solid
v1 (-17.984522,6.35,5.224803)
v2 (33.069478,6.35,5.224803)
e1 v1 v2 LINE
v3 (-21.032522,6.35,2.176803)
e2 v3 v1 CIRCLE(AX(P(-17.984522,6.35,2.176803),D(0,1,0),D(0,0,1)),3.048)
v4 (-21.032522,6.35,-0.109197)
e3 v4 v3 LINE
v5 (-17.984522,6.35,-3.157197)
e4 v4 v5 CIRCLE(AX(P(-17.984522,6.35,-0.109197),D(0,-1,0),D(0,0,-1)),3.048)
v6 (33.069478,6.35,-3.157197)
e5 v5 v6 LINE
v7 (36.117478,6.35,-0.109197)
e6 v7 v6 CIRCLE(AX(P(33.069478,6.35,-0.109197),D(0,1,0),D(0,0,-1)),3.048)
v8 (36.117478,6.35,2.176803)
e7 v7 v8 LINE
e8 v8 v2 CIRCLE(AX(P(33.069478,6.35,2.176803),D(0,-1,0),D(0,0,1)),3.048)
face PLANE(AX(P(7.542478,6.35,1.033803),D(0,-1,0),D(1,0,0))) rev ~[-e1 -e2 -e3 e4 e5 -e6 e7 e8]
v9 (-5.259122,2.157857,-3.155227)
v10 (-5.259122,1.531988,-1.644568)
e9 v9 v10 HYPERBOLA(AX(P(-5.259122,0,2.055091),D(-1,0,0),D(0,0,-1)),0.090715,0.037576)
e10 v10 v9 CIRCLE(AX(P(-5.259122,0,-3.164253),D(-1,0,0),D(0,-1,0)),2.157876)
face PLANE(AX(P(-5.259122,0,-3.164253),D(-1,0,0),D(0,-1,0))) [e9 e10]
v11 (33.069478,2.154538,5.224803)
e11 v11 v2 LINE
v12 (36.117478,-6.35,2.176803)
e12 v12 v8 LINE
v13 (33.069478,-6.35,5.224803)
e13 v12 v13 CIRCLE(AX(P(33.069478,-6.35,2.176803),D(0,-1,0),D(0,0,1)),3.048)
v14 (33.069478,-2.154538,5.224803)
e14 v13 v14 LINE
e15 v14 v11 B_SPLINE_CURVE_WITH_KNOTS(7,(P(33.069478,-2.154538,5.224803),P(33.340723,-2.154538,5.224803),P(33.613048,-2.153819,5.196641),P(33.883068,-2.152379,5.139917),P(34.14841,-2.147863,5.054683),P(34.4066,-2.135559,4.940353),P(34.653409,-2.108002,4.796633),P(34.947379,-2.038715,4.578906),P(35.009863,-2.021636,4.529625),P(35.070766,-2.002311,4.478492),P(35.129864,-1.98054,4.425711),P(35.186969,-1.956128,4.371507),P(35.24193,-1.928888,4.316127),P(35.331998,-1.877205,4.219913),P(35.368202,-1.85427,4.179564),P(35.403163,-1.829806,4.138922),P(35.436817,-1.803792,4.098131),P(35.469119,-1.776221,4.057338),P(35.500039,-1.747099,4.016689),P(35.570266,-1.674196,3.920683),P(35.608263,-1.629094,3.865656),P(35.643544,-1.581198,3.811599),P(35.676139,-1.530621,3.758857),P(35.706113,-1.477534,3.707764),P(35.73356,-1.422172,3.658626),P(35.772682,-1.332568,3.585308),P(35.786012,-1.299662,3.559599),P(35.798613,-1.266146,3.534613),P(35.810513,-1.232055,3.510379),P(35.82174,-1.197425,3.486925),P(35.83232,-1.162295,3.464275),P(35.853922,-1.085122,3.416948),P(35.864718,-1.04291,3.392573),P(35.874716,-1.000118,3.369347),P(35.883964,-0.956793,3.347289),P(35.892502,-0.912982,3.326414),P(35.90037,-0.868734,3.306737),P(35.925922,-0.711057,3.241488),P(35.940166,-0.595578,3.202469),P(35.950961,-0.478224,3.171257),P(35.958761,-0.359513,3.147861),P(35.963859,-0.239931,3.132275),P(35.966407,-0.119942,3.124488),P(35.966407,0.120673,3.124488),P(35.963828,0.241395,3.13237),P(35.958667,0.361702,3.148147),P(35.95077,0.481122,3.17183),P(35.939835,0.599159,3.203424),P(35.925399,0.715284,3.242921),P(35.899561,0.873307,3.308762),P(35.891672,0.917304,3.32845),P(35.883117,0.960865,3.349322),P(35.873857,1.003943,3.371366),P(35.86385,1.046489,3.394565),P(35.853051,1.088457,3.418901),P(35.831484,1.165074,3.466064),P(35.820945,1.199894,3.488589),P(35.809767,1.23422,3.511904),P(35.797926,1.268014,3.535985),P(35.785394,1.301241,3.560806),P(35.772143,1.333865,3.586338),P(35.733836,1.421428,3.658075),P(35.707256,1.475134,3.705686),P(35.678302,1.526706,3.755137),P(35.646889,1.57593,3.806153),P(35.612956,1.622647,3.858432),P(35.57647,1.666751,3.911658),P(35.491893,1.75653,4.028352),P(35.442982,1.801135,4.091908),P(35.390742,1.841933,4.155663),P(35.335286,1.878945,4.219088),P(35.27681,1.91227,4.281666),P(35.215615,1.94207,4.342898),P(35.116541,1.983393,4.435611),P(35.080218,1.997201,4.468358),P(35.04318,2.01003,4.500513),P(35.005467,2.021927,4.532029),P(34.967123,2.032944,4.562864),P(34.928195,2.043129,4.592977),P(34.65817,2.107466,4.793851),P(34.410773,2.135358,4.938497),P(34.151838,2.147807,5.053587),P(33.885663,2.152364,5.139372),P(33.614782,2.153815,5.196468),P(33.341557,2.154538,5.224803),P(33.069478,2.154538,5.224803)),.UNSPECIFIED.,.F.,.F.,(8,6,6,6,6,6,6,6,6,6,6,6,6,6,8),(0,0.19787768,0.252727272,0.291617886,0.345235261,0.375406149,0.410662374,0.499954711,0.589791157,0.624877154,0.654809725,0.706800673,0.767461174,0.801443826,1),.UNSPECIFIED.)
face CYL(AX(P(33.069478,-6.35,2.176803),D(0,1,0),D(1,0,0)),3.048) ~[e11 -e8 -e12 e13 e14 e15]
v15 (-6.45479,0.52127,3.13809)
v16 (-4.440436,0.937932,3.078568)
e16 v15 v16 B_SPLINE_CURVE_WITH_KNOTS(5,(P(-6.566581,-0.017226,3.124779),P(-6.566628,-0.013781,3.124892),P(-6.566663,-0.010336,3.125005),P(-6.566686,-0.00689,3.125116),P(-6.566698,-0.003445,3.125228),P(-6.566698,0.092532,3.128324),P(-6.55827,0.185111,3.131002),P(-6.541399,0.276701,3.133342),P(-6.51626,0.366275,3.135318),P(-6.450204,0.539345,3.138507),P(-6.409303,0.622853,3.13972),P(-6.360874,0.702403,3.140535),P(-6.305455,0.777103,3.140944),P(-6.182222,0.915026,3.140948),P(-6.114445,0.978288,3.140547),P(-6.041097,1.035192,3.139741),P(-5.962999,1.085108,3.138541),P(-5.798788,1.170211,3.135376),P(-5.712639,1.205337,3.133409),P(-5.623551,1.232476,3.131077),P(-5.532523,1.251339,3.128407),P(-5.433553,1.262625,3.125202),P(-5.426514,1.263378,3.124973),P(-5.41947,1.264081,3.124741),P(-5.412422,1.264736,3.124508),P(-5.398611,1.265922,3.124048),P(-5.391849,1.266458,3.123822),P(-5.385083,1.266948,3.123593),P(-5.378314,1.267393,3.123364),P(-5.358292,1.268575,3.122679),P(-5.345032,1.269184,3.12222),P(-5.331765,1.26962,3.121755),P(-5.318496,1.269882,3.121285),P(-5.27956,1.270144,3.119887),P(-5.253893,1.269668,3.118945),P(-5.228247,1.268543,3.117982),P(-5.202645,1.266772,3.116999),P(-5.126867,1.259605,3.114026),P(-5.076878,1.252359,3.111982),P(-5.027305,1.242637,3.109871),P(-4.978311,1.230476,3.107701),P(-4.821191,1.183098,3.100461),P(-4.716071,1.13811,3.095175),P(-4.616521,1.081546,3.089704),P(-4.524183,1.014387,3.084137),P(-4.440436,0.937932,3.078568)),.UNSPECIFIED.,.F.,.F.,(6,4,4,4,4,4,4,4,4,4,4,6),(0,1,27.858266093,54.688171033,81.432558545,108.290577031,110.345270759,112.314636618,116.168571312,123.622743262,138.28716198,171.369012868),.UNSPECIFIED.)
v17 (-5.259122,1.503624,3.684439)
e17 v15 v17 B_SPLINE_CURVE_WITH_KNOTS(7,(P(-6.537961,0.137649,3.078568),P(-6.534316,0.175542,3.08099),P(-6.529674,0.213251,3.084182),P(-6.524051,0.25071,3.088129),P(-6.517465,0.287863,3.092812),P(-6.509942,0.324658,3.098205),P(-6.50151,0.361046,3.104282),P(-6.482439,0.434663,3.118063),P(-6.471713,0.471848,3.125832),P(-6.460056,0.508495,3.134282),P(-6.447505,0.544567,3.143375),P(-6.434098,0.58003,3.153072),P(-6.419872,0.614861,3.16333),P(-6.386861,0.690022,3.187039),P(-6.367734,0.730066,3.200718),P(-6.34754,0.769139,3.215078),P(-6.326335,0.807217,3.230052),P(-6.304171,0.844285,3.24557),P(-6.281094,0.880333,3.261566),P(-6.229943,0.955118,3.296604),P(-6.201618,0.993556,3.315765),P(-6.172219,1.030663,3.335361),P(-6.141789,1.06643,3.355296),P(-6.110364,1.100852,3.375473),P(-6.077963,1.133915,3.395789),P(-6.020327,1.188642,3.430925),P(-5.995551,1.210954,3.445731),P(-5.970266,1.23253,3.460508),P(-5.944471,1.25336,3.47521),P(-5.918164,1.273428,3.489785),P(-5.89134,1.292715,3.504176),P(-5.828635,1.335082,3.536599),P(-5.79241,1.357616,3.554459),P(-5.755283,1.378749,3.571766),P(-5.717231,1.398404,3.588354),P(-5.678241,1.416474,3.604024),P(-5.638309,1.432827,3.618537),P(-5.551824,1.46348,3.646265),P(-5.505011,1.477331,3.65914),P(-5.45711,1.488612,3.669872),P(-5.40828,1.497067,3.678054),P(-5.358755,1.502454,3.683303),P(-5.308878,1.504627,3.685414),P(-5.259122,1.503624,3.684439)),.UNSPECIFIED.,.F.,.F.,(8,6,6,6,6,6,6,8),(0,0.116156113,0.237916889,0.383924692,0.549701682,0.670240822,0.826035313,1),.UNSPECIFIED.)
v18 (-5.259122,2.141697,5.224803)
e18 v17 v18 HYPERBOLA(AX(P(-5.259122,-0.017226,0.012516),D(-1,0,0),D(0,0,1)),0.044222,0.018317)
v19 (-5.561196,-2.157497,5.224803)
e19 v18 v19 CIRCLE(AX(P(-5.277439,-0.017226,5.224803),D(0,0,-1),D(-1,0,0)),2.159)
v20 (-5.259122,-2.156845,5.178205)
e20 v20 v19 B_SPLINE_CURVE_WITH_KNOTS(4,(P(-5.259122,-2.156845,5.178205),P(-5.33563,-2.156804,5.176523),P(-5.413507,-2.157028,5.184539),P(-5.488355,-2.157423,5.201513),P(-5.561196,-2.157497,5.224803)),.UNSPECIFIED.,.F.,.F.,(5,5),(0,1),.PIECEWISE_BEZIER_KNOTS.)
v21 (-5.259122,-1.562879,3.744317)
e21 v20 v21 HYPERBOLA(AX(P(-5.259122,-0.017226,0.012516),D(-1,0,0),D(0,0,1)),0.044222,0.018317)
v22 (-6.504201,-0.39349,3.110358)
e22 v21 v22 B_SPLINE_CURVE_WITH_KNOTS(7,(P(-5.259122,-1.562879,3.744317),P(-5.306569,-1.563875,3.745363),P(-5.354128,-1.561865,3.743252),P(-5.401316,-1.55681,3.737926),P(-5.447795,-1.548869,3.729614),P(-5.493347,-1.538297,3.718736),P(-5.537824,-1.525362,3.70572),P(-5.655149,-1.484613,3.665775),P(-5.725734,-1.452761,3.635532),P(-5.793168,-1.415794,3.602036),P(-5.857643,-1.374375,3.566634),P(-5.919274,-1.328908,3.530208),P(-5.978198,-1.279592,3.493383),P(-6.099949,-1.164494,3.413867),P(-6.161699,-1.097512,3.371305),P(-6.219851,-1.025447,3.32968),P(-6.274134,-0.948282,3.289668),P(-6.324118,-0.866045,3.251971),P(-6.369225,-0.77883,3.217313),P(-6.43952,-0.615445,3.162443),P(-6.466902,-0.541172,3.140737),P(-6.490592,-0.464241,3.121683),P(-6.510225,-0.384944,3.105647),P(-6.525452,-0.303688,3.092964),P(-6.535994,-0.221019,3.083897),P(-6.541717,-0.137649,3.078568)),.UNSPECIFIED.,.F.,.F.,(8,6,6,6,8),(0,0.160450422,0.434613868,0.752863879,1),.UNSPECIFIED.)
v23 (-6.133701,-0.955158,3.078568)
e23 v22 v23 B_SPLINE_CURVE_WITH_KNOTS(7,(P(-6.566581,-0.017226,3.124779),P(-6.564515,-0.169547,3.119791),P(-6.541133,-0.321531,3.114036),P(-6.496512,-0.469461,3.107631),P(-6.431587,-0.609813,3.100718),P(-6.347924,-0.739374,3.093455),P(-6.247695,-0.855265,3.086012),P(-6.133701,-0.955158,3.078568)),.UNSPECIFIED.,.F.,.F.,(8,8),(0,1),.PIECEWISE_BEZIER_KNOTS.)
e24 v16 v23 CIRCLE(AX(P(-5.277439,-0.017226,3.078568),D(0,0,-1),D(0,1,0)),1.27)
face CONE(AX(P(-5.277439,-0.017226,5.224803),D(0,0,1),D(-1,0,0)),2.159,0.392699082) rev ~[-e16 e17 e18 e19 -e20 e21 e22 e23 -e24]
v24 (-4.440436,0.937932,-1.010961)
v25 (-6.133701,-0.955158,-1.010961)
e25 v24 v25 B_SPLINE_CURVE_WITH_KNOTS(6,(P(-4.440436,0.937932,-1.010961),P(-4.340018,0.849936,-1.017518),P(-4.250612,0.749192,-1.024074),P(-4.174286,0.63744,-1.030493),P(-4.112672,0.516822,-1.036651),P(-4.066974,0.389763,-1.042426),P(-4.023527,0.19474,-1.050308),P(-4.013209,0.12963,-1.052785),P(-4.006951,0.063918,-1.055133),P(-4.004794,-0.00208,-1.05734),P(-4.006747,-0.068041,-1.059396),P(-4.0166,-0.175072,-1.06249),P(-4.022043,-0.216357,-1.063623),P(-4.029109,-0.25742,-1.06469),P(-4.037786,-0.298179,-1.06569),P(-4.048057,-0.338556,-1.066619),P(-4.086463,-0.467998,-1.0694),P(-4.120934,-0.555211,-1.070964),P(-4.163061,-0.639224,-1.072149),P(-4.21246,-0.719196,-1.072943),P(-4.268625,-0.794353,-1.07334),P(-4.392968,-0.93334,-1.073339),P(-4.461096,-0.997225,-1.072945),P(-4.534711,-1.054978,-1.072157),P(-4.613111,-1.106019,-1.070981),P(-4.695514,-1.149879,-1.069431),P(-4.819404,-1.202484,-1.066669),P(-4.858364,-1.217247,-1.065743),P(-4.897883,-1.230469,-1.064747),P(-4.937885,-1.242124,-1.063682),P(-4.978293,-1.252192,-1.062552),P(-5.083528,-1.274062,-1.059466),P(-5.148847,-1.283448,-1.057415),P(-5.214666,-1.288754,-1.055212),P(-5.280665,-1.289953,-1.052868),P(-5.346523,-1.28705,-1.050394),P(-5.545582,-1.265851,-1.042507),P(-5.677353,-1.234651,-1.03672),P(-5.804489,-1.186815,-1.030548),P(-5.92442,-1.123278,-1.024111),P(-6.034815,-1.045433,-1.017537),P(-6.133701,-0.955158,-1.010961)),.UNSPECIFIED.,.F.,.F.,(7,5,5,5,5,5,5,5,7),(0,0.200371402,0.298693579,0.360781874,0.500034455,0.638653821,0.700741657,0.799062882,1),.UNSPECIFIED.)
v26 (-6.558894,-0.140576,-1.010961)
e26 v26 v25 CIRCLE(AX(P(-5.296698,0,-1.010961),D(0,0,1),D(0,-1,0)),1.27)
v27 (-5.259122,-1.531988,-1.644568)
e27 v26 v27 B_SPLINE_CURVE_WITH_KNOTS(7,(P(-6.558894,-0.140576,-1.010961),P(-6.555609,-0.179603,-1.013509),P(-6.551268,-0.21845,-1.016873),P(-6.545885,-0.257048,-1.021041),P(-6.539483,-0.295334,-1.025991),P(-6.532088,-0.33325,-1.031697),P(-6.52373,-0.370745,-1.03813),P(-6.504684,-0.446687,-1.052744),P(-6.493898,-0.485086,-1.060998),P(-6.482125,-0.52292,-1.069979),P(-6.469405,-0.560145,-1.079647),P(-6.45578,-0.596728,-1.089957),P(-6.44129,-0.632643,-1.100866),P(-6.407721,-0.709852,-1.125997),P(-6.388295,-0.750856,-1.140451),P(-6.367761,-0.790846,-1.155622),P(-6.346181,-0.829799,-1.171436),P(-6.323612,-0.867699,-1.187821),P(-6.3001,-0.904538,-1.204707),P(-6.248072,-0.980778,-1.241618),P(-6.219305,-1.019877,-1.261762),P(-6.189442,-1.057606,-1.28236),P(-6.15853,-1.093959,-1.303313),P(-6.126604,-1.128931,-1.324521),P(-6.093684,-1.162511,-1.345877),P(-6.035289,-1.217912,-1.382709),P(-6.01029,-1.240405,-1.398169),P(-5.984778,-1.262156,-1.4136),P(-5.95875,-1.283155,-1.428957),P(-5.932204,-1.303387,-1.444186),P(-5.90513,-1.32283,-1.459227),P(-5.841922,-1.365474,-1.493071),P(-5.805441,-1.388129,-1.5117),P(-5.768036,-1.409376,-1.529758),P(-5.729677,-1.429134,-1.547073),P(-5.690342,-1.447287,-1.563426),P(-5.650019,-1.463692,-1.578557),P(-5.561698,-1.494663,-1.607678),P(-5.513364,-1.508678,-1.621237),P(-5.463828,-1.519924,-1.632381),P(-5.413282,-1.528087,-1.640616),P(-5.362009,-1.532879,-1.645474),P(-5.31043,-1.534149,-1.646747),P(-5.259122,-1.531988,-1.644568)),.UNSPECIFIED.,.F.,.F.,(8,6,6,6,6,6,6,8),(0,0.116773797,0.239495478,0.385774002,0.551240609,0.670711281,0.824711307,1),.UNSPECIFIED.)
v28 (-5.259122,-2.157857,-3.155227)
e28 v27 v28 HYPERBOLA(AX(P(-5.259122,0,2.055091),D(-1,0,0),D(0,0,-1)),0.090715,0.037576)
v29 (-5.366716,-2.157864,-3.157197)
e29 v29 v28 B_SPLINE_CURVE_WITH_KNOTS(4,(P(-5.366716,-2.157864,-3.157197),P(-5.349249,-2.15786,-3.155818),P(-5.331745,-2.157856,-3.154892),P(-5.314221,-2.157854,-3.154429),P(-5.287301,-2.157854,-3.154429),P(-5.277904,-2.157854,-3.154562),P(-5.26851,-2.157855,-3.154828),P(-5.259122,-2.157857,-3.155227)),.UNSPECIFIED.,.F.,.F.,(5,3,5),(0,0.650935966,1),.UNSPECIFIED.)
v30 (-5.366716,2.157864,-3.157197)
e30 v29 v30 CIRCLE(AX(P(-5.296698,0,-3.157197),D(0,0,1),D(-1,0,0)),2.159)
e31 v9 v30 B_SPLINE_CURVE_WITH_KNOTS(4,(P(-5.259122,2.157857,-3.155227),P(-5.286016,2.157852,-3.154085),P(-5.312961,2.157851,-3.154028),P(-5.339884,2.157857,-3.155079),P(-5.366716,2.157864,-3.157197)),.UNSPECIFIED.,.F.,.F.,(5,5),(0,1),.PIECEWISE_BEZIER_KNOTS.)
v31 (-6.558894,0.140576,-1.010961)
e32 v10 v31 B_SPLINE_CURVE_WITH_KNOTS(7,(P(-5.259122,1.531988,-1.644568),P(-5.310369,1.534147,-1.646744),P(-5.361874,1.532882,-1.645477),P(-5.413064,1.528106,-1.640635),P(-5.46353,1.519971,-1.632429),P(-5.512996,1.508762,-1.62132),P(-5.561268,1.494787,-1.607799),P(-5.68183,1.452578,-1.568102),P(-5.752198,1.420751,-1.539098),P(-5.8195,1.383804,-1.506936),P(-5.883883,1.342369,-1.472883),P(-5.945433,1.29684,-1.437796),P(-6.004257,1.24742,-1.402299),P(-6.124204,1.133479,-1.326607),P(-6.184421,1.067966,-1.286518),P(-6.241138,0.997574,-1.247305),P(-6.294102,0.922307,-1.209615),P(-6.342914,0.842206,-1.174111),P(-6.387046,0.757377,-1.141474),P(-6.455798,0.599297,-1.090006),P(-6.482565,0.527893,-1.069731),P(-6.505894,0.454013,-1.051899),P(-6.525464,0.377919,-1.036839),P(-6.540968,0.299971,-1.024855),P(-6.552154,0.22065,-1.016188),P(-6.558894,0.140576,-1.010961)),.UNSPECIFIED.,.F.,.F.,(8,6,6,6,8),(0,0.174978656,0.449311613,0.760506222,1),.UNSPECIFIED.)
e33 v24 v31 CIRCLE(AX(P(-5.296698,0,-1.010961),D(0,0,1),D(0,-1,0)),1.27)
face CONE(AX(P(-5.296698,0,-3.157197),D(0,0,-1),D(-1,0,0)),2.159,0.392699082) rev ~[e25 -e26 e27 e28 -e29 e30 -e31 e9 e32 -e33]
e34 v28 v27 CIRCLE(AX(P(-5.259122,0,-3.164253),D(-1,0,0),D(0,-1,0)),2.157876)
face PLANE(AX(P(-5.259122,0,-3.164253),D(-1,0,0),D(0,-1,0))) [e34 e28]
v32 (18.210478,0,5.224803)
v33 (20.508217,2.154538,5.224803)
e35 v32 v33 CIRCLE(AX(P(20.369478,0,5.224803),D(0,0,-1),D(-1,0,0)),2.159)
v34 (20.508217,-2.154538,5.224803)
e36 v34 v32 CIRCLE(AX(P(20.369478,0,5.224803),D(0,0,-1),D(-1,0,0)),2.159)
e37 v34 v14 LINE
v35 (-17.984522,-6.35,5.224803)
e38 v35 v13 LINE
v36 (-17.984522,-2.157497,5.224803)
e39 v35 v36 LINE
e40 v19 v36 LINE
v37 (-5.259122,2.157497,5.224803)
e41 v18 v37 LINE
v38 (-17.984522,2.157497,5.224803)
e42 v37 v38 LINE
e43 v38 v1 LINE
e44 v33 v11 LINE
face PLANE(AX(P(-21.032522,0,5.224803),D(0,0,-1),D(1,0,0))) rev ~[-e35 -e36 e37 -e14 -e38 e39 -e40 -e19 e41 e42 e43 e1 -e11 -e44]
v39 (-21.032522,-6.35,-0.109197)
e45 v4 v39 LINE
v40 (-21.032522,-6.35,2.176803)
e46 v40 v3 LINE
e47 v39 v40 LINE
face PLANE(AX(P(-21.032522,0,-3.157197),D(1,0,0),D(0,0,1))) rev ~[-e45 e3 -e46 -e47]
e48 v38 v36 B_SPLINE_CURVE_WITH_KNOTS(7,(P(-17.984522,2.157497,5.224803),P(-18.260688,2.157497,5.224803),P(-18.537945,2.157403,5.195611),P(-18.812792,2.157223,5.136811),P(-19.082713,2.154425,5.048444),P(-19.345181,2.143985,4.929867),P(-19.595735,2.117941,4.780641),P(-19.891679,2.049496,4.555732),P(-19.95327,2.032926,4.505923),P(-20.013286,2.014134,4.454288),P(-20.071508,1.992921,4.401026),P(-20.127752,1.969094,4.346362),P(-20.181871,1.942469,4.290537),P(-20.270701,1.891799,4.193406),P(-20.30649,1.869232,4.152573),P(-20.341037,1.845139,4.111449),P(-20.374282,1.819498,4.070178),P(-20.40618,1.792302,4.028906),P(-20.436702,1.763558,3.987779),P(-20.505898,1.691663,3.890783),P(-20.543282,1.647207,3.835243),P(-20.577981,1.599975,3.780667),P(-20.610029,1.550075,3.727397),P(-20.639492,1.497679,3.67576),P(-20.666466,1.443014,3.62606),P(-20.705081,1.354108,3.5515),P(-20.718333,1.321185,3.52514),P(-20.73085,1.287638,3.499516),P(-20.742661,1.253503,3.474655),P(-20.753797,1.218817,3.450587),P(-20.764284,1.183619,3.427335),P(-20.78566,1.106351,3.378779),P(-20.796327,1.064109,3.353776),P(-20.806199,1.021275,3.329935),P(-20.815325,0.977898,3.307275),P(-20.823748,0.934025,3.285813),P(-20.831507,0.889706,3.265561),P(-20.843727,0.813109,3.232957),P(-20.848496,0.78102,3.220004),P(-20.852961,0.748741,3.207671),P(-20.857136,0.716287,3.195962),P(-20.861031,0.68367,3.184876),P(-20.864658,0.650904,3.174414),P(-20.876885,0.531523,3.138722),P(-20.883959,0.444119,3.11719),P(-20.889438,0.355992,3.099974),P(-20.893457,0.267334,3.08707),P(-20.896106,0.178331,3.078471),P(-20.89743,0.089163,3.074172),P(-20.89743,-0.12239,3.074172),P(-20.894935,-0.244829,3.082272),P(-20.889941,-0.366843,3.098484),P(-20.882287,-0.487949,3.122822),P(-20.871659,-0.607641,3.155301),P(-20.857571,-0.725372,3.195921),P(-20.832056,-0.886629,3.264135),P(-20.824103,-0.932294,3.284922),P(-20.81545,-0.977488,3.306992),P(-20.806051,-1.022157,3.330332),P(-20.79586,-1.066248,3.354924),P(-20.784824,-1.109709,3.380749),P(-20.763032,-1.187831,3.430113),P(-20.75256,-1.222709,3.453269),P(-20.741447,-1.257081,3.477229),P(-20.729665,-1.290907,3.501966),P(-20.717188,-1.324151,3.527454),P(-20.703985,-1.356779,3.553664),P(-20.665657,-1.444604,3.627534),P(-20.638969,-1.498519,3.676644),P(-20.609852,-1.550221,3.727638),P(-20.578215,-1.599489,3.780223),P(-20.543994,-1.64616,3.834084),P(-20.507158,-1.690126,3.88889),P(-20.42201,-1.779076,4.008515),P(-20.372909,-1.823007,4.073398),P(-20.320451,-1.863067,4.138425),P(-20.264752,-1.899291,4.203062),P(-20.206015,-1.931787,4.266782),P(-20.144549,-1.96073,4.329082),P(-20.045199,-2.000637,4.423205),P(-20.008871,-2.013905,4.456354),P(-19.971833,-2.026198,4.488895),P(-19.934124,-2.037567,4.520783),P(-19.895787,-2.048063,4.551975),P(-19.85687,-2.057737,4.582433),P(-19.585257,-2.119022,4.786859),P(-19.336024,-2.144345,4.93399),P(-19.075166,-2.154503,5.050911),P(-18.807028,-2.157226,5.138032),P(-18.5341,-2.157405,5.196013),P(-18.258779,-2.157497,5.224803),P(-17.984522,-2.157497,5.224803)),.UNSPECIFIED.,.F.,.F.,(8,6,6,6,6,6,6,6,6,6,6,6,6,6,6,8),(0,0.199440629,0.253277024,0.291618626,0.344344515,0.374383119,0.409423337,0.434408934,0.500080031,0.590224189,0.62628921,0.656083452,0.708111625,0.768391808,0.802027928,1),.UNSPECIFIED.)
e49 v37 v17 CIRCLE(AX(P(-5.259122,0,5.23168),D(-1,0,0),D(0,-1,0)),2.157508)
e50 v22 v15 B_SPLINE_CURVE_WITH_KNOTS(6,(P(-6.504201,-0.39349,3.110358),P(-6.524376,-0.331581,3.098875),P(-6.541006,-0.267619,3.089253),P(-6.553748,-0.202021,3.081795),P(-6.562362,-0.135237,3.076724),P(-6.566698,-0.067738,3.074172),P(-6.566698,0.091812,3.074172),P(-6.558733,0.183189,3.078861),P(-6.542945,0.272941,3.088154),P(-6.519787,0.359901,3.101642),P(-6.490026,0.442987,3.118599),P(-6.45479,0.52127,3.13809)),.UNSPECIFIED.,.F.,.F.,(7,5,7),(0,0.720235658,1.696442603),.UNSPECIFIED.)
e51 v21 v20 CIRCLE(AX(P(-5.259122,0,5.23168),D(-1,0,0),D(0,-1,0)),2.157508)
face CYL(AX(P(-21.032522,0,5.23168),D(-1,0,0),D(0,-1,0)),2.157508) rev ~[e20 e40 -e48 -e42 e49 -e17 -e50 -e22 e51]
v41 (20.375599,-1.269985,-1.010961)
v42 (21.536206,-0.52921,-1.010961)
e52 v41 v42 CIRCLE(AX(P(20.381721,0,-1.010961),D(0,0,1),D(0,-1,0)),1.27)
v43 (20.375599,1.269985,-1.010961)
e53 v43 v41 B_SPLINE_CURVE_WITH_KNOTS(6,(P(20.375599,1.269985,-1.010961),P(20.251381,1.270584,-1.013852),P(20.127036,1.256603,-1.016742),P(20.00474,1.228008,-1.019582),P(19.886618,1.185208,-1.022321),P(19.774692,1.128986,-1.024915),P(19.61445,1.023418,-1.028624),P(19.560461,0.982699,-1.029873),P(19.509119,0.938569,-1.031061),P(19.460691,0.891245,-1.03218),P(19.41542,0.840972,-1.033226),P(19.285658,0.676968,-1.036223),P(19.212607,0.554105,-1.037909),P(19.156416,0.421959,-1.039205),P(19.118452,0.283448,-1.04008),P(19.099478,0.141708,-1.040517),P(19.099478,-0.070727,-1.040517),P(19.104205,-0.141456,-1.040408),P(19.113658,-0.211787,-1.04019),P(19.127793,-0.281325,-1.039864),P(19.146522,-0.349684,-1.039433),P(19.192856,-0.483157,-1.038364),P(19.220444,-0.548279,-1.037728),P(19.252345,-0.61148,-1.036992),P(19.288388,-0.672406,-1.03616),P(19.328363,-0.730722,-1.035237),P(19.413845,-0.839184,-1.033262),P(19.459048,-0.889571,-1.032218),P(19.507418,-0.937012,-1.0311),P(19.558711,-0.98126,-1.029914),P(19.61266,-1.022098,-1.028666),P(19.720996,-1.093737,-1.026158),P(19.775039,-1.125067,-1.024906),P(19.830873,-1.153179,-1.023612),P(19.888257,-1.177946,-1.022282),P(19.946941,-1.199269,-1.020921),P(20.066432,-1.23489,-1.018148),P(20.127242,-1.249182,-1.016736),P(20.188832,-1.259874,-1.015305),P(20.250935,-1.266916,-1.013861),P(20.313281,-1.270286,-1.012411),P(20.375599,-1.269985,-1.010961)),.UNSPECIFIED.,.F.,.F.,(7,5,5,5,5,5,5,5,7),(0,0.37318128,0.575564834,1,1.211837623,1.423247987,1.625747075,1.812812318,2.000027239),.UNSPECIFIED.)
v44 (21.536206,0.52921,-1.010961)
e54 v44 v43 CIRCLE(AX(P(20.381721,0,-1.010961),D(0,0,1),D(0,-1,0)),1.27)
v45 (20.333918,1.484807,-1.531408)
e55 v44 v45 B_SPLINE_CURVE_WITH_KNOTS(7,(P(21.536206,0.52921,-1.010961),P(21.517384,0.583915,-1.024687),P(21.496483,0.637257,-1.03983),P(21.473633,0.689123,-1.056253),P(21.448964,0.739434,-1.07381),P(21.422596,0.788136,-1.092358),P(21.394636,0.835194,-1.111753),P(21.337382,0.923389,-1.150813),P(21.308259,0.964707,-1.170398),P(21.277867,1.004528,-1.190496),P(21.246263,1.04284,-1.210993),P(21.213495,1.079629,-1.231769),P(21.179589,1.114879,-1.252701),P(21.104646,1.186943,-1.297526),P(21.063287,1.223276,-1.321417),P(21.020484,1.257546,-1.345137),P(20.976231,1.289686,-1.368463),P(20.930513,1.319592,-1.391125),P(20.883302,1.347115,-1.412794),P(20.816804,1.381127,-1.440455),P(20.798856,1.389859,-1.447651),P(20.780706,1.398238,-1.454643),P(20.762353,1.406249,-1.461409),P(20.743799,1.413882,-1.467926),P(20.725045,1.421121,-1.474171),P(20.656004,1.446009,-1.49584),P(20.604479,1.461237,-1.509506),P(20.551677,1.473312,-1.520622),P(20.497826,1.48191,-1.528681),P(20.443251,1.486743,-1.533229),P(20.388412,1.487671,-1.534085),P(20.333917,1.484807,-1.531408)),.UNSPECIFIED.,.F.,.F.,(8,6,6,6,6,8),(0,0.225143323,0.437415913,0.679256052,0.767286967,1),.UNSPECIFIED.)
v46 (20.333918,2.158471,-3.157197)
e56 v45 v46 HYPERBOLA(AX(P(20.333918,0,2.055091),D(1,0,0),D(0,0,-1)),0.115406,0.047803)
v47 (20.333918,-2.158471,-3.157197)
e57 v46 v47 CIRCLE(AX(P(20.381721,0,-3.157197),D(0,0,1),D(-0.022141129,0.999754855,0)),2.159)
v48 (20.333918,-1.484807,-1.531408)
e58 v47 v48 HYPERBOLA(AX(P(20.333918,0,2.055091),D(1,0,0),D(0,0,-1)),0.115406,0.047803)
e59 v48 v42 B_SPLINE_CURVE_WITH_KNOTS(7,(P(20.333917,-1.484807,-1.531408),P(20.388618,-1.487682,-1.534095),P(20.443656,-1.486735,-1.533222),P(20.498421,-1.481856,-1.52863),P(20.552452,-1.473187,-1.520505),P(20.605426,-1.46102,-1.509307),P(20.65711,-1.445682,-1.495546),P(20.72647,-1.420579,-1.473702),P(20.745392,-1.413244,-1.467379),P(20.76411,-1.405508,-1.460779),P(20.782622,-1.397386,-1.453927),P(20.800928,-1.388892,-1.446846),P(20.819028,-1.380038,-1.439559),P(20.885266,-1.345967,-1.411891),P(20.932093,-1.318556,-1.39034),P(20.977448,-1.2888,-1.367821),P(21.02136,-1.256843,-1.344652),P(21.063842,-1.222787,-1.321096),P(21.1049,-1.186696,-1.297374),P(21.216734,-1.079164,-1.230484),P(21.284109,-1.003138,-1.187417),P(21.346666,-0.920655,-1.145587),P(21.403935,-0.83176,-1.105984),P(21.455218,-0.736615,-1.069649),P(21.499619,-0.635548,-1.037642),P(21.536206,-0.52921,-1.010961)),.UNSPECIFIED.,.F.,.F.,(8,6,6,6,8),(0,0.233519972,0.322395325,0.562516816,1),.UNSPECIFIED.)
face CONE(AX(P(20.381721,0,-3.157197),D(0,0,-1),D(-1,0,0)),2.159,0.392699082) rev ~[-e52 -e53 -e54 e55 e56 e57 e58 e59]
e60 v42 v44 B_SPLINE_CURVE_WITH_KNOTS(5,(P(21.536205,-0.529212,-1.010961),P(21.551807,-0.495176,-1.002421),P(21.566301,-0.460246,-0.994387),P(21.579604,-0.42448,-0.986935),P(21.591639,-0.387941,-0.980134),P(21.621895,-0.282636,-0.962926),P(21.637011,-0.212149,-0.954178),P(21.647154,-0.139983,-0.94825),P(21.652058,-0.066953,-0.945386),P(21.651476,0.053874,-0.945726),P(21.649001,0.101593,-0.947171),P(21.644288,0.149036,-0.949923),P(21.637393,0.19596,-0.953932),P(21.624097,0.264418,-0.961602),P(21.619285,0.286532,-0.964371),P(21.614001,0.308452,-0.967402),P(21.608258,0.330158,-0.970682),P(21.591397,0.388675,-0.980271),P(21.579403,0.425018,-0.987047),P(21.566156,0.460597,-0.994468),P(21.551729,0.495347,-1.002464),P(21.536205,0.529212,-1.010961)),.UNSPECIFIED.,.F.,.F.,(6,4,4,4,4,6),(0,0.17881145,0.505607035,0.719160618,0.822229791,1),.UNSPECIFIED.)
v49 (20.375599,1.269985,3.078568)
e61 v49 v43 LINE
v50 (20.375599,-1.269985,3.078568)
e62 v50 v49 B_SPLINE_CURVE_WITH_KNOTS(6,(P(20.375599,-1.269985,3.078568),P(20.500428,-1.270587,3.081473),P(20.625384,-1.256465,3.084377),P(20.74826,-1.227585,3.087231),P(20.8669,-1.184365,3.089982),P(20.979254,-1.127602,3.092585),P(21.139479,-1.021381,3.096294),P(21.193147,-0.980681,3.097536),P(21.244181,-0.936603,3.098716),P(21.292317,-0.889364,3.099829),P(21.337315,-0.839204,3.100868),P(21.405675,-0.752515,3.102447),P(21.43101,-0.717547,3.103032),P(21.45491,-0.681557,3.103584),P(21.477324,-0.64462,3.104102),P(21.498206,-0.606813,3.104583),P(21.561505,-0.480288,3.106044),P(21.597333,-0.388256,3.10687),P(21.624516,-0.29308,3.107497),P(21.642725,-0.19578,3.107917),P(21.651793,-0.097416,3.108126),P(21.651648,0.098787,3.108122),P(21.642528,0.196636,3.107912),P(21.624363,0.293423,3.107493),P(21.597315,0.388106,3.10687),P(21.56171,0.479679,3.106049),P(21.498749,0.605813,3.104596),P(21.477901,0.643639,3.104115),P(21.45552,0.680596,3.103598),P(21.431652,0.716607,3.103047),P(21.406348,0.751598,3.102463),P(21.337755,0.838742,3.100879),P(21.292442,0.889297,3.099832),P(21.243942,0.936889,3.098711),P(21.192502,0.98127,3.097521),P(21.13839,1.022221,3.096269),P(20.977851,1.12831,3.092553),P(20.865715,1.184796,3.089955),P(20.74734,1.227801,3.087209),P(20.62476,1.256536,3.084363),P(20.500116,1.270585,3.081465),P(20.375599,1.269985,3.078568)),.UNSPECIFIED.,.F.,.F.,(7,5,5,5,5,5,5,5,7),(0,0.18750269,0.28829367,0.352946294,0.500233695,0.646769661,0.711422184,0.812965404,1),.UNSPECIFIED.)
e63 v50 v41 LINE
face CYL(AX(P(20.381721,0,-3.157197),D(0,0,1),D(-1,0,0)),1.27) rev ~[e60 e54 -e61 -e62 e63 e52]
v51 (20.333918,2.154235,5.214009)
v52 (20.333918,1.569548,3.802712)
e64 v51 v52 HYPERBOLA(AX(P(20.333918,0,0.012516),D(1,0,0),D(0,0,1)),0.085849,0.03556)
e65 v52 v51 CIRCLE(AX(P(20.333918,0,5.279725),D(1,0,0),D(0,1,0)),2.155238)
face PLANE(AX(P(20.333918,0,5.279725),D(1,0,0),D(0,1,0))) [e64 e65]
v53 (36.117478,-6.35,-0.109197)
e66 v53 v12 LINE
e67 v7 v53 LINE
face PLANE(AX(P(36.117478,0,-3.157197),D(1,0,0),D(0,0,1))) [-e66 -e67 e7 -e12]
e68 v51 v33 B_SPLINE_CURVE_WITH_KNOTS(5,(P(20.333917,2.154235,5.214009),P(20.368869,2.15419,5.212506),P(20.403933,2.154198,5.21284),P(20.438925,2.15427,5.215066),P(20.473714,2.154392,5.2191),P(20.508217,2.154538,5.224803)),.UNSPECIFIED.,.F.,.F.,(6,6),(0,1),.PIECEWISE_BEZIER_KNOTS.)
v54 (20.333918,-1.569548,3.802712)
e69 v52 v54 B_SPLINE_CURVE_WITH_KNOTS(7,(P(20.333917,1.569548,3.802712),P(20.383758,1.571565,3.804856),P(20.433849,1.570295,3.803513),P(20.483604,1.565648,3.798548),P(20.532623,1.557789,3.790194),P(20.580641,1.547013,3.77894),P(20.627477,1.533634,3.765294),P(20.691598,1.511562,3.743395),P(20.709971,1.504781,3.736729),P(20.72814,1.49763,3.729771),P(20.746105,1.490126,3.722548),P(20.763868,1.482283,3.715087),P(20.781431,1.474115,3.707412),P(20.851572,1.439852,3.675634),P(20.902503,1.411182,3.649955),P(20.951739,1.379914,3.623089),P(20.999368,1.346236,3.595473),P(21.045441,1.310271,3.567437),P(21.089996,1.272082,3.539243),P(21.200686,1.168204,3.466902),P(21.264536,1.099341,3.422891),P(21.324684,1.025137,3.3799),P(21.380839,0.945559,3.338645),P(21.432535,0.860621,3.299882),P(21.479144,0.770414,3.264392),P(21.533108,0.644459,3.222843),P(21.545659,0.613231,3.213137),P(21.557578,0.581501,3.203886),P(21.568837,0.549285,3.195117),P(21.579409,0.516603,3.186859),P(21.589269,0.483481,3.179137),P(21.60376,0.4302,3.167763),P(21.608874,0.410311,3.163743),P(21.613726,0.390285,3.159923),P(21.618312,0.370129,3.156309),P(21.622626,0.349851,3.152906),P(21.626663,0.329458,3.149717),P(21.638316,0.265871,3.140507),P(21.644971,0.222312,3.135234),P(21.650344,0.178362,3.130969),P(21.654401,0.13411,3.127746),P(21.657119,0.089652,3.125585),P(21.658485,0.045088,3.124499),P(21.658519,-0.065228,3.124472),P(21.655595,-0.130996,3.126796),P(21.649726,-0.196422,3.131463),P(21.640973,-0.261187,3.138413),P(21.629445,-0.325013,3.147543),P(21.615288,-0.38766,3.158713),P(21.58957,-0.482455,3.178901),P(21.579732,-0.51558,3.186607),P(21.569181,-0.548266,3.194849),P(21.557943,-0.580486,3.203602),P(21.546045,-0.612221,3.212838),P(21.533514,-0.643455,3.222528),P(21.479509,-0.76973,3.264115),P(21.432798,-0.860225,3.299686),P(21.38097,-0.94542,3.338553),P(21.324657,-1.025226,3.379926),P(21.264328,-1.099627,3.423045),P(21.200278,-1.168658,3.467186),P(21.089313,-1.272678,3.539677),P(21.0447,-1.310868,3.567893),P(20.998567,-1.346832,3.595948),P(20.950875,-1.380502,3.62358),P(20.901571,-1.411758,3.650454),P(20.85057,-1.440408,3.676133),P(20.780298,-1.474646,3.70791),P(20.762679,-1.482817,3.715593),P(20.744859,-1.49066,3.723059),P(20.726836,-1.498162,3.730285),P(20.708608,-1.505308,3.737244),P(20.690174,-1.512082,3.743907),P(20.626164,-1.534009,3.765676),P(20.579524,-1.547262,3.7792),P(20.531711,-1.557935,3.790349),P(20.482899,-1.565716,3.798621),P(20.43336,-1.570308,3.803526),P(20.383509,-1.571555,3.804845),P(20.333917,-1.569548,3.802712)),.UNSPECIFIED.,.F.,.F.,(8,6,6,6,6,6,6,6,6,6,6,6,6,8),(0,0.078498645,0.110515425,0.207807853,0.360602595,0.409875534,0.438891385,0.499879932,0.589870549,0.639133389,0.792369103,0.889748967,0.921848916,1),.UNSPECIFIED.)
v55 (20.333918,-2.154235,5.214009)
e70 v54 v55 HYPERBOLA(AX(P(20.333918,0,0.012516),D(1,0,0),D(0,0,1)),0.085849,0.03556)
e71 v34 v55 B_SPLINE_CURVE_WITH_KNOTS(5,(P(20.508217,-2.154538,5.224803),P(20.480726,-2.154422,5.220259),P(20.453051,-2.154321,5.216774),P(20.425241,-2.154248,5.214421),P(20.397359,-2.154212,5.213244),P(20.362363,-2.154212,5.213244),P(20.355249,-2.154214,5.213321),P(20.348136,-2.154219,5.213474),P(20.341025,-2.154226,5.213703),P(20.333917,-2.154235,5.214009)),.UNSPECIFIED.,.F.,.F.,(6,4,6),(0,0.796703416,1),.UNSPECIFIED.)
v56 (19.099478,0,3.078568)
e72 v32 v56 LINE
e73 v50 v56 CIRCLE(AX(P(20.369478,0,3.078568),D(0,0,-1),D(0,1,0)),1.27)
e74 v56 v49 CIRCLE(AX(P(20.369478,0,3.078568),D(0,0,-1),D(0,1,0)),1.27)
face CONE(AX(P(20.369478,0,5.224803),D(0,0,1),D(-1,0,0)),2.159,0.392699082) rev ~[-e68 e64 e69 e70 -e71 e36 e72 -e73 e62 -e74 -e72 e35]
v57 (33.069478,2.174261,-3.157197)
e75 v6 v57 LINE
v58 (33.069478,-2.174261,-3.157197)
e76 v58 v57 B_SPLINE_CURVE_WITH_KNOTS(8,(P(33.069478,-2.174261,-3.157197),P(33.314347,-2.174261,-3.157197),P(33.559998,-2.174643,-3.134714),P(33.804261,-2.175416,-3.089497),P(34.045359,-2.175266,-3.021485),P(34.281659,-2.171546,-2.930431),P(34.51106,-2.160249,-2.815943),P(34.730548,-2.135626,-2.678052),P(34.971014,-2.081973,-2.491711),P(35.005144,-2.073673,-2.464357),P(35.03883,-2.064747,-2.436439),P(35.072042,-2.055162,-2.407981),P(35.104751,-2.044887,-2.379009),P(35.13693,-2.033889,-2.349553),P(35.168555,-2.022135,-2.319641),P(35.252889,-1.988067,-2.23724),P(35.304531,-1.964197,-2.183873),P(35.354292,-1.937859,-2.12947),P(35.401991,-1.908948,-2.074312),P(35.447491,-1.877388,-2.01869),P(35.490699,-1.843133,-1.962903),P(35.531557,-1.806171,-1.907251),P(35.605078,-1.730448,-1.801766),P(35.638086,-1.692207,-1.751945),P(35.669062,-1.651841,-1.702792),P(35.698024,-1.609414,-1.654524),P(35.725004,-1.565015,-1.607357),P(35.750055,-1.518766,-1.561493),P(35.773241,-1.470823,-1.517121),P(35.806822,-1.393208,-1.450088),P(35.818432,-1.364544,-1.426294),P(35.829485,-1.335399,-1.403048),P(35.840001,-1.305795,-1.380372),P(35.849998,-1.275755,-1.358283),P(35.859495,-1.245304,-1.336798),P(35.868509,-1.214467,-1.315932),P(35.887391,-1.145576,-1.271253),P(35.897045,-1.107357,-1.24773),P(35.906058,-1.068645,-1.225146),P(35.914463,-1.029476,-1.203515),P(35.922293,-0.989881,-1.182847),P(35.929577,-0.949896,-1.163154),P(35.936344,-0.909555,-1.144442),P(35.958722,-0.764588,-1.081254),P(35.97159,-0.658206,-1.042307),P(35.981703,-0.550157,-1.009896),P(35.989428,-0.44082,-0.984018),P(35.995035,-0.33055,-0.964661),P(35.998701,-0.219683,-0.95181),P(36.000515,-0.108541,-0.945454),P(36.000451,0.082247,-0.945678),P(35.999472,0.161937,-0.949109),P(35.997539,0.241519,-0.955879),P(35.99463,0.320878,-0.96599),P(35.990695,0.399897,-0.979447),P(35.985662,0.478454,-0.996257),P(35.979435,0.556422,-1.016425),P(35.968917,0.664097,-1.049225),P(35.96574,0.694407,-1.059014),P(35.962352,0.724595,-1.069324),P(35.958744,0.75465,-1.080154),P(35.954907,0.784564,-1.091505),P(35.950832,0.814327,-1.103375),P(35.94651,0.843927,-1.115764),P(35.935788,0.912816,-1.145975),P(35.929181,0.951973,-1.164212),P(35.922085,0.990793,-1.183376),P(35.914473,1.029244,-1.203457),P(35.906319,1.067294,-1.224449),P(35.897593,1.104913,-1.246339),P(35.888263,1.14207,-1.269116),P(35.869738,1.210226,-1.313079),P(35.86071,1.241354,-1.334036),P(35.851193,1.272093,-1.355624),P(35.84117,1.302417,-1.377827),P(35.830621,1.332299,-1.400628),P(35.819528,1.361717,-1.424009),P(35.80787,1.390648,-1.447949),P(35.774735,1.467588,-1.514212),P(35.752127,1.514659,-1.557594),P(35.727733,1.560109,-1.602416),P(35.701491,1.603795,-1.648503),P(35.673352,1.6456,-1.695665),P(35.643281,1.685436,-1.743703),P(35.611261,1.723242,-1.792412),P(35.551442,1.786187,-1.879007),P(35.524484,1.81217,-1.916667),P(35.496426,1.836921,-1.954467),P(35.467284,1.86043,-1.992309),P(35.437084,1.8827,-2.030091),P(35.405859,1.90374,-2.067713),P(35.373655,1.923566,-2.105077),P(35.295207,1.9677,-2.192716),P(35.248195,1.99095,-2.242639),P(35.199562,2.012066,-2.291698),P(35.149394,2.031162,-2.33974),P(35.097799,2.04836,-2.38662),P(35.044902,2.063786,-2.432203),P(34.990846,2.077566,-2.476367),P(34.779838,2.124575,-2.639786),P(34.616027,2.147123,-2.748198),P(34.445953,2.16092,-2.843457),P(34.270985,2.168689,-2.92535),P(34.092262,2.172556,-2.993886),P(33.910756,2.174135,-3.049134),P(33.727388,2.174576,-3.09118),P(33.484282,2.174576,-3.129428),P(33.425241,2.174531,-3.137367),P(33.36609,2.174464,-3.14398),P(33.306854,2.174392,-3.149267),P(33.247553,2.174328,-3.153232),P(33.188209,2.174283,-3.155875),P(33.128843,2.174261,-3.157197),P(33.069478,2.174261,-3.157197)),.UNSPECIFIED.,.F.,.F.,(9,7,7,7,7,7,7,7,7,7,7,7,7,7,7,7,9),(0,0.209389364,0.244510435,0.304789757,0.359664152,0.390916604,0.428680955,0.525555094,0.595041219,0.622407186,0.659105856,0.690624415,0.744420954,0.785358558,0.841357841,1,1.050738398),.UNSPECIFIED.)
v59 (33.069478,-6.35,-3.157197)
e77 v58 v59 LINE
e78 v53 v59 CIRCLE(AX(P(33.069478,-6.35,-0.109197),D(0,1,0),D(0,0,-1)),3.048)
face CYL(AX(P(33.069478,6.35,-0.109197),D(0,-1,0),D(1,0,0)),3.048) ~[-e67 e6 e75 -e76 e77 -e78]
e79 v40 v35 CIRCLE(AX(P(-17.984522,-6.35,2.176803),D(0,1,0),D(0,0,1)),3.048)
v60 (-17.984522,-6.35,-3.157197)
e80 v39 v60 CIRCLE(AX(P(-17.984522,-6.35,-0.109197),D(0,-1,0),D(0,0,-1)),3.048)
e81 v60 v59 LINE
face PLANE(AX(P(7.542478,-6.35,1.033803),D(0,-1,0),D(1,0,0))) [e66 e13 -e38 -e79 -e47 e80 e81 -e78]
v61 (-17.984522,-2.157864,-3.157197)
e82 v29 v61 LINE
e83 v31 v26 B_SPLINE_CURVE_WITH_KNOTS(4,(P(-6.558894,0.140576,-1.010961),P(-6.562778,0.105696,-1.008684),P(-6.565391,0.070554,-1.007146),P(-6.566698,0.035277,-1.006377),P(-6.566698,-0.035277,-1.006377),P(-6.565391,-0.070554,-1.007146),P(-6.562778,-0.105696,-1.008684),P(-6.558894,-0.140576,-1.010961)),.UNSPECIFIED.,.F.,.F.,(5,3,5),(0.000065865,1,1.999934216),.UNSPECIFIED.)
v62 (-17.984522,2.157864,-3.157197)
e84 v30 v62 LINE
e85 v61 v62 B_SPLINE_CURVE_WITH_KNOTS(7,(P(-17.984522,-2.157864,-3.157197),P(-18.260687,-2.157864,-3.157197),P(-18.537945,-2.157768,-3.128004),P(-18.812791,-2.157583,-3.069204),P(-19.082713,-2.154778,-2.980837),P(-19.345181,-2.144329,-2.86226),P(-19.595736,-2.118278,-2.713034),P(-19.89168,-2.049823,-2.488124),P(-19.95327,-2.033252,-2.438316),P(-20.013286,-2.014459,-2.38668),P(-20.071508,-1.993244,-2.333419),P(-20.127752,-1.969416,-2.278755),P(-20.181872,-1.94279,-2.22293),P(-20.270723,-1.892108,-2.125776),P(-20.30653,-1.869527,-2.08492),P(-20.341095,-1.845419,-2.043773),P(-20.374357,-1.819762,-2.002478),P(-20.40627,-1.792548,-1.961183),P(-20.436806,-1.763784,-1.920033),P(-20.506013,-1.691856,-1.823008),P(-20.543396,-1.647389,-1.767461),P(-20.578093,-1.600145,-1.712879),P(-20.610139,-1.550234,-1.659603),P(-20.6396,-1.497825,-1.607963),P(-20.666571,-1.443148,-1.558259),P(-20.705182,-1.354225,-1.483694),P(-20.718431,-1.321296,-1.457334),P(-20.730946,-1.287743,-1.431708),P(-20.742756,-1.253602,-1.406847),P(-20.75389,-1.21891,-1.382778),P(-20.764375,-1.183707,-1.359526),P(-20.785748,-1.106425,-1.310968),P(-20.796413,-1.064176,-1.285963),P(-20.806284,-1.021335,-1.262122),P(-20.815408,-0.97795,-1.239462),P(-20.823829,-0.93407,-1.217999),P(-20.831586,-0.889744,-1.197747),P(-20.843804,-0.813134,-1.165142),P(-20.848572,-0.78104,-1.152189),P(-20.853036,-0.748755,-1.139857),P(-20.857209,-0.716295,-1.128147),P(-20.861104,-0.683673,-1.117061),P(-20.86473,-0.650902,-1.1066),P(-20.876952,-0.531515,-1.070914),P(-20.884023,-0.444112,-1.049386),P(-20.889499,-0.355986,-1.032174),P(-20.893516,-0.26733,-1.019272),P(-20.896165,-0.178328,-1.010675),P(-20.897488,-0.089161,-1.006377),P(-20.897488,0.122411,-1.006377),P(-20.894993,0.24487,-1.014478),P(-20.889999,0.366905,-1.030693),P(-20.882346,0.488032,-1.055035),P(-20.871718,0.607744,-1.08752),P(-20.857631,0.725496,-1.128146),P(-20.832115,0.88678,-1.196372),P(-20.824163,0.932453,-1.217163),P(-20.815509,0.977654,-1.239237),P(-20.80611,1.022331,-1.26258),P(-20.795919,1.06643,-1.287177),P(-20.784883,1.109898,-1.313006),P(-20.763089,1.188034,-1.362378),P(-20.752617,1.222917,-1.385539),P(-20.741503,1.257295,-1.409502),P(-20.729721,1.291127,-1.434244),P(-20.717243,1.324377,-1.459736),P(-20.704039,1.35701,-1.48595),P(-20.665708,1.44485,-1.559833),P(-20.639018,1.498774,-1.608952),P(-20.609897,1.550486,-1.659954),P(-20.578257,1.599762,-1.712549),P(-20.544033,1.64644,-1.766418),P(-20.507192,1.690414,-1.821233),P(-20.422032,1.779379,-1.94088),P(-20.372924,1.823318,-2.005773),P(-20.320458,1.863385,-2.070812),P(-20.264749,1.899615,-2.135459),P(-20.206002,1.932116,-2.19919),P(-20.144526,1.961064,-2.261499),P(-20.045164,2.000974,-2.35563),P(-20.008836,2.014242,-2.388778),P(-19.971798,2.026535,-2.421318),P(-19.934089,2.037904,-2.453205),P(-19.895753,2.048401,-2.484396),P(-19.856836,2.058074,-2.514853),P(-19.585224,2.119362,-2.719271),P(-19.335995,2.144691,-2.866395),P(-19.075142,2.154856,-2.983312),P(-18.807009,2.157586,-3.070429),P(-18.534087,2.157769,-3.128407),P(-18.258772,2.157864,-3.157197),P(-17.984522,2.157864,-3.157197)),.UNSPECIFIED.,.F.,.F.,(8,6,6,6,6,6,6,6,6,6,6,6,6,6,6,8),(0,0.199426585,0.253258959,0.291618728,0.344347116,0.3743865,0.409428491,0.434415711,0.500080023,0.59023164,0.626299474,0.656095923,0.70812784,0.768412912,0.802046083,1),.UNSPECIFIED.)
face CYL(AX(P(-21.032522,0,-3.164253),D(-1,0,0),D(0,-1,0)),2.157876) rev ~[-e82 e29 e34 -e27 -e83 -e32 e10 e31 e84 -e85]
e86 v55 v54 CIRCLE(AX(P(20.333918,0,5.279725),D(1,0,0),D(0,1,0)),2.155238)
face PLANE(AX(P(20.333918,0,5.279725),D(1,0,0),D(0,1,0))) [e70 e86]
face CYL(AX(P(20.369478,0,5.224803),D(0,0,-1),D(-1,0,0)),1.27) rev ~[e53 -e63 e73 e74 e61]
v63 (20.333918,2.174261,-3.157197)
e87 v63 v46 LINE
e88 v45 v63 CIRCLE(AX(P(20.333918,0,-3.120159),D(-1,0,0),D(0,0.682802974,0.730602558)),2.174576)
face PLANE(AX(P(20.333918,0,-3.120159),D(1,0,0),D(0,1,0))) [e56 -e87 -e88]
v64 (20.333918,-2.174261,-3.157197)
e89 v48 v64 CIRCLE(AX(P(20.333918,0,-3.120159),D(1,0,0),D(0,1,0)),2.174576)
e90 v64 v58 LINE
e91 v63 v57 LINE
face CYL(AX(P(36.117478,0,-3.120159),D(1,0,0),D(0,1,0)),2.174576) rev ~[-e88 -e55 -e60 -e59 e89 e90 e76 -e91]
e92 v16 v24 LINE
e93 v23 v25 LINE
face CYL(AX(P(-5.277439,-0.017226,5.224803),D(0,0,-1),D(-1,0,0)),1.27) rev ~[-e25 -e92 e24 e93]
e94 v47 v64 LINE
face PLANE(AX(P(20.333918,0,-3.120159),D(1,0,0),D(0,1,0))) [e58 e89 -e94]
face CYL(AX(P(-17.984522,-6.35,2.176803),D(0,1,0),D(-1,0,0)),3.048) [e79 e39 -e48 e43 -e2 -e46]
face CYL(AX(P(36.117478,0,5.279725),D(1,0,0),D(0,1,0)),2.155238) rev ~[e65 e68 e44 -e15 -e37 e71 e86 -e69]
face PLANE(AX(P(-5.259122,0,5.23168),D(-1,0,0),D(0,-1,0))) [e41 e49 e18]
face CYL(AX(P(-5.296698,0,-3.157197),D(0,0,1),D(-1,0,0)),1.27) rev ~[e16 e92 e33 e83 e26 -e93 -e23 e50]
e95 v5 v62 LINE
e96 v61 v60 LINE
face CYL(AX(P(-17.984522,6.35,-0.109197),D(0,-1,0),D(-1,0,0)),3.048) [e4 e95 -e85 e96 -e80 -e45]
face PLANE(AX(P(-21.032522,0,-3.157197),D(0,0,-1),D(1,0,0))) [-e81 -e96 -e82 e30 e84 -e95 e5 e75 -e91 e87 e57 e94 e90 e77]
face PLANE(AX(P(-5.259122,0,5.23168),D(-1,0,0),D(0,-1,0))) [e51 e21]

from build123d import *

# Parameters (mm, degrees)
F0_W                 = 57.15
F0_H                 = 8.382
F1_DEPTH             = 6.35
F1_DEPTH_BACK        = 6.35
F2_R                 = 3.048
F5_D                 = 2.54
F5_CSINK_D           = 4.318
F5_CSINK_ANGLE       = 45
F5_ON_F4_D           = 2.54
F5_ON_F4_CSINK_D     = 4.318
F5_ON_F4_CSINK_ANGLE = 45
F7_R                 = 2.1552375293
F7_R_2               = 2.1745763706
F8_DEPTH             = 15.78356
F6_R                 = 2.1575082274
F6_R_2               = 2.1578758636
F9_DEPTH             = 15.7734


with BuildPart() as f1:
    # F0 (on Front) → F1 (new body, two sides)
    with BuildSketch(Plane.XZ) as f1_sk:
        with Locations((7.5424778849, 1.0338034335)):
            Rectangle(F0_W, F0_H)
    extrude(amount=F1_DEPTH)
    extrude(f1_sk.sketch, amount=-F1_DEPTH_BACK)

    # F2
    f2_edges = [f1.edges().sort_by_distance(p)[0] for p in [
        (-21.032522, 0, 5.224803),
        (36.117478, 0, 5.224803),
        (-21.032522, 0, -3.157197),
        (36.117478, 0, -3.157197),
    ]]
    fillet(f2_edges, radius=F2_R)

    # F5 (through all)
    with Locations(Plane.XY.offset(5.2248034335)):
        with Locations((-5.2774393328, -0.0172255386), (20.3694778849, 0)):
            CounterSinkHole(F5_D / 2, F5_CSINK_D / 2, counter_sink_angle=F5_CSINK_ANGLE)

    # F5 on F4 (through all)
    with Locations(Plane(origin=(0, 0, -3.1571965665), x_dir=(1, 0, 0), z_dir=(0, 0, -1))):
        with Locations((20.3817205831, 0), (-5.2966976866, 0)):
            CounterSinkHole(F5_ON_F4_D / 2, F5_ON_F4_CSINK_D / 2, counter_sink_angle=F5_ON_F4_CSINK_ANGLE)

    # F7 (on face) → F8 (cut)
    with BuildSketch(Plane.YZ.offset(36.1174778849)):
        with Locations((0, 5.2797254175)):
            Circle(F7_R)
        with Locations((0, -3.1201594975)):
            Circle(F7_R_2)
    extrude(amount=-F8_DEPTH, mode=Mode.SUBTRACT)

    # F6 (on face) → F9 (cut)
    with BuildSketch(Plane(origin=(-21.0325221151, 0, 0), x_dir=(0, -1, 0), z_dir=(-1, 0, 0))):
        with Locations((0, 5.2316803485)):
            Circle(F6_R)
        with Locations((0, -3.1642527319)):
            Circle(F6_R_2)
    extrude(amount=-F9_DEPTH, mode=Mode.SUBTRACT)


solid = f1.part
